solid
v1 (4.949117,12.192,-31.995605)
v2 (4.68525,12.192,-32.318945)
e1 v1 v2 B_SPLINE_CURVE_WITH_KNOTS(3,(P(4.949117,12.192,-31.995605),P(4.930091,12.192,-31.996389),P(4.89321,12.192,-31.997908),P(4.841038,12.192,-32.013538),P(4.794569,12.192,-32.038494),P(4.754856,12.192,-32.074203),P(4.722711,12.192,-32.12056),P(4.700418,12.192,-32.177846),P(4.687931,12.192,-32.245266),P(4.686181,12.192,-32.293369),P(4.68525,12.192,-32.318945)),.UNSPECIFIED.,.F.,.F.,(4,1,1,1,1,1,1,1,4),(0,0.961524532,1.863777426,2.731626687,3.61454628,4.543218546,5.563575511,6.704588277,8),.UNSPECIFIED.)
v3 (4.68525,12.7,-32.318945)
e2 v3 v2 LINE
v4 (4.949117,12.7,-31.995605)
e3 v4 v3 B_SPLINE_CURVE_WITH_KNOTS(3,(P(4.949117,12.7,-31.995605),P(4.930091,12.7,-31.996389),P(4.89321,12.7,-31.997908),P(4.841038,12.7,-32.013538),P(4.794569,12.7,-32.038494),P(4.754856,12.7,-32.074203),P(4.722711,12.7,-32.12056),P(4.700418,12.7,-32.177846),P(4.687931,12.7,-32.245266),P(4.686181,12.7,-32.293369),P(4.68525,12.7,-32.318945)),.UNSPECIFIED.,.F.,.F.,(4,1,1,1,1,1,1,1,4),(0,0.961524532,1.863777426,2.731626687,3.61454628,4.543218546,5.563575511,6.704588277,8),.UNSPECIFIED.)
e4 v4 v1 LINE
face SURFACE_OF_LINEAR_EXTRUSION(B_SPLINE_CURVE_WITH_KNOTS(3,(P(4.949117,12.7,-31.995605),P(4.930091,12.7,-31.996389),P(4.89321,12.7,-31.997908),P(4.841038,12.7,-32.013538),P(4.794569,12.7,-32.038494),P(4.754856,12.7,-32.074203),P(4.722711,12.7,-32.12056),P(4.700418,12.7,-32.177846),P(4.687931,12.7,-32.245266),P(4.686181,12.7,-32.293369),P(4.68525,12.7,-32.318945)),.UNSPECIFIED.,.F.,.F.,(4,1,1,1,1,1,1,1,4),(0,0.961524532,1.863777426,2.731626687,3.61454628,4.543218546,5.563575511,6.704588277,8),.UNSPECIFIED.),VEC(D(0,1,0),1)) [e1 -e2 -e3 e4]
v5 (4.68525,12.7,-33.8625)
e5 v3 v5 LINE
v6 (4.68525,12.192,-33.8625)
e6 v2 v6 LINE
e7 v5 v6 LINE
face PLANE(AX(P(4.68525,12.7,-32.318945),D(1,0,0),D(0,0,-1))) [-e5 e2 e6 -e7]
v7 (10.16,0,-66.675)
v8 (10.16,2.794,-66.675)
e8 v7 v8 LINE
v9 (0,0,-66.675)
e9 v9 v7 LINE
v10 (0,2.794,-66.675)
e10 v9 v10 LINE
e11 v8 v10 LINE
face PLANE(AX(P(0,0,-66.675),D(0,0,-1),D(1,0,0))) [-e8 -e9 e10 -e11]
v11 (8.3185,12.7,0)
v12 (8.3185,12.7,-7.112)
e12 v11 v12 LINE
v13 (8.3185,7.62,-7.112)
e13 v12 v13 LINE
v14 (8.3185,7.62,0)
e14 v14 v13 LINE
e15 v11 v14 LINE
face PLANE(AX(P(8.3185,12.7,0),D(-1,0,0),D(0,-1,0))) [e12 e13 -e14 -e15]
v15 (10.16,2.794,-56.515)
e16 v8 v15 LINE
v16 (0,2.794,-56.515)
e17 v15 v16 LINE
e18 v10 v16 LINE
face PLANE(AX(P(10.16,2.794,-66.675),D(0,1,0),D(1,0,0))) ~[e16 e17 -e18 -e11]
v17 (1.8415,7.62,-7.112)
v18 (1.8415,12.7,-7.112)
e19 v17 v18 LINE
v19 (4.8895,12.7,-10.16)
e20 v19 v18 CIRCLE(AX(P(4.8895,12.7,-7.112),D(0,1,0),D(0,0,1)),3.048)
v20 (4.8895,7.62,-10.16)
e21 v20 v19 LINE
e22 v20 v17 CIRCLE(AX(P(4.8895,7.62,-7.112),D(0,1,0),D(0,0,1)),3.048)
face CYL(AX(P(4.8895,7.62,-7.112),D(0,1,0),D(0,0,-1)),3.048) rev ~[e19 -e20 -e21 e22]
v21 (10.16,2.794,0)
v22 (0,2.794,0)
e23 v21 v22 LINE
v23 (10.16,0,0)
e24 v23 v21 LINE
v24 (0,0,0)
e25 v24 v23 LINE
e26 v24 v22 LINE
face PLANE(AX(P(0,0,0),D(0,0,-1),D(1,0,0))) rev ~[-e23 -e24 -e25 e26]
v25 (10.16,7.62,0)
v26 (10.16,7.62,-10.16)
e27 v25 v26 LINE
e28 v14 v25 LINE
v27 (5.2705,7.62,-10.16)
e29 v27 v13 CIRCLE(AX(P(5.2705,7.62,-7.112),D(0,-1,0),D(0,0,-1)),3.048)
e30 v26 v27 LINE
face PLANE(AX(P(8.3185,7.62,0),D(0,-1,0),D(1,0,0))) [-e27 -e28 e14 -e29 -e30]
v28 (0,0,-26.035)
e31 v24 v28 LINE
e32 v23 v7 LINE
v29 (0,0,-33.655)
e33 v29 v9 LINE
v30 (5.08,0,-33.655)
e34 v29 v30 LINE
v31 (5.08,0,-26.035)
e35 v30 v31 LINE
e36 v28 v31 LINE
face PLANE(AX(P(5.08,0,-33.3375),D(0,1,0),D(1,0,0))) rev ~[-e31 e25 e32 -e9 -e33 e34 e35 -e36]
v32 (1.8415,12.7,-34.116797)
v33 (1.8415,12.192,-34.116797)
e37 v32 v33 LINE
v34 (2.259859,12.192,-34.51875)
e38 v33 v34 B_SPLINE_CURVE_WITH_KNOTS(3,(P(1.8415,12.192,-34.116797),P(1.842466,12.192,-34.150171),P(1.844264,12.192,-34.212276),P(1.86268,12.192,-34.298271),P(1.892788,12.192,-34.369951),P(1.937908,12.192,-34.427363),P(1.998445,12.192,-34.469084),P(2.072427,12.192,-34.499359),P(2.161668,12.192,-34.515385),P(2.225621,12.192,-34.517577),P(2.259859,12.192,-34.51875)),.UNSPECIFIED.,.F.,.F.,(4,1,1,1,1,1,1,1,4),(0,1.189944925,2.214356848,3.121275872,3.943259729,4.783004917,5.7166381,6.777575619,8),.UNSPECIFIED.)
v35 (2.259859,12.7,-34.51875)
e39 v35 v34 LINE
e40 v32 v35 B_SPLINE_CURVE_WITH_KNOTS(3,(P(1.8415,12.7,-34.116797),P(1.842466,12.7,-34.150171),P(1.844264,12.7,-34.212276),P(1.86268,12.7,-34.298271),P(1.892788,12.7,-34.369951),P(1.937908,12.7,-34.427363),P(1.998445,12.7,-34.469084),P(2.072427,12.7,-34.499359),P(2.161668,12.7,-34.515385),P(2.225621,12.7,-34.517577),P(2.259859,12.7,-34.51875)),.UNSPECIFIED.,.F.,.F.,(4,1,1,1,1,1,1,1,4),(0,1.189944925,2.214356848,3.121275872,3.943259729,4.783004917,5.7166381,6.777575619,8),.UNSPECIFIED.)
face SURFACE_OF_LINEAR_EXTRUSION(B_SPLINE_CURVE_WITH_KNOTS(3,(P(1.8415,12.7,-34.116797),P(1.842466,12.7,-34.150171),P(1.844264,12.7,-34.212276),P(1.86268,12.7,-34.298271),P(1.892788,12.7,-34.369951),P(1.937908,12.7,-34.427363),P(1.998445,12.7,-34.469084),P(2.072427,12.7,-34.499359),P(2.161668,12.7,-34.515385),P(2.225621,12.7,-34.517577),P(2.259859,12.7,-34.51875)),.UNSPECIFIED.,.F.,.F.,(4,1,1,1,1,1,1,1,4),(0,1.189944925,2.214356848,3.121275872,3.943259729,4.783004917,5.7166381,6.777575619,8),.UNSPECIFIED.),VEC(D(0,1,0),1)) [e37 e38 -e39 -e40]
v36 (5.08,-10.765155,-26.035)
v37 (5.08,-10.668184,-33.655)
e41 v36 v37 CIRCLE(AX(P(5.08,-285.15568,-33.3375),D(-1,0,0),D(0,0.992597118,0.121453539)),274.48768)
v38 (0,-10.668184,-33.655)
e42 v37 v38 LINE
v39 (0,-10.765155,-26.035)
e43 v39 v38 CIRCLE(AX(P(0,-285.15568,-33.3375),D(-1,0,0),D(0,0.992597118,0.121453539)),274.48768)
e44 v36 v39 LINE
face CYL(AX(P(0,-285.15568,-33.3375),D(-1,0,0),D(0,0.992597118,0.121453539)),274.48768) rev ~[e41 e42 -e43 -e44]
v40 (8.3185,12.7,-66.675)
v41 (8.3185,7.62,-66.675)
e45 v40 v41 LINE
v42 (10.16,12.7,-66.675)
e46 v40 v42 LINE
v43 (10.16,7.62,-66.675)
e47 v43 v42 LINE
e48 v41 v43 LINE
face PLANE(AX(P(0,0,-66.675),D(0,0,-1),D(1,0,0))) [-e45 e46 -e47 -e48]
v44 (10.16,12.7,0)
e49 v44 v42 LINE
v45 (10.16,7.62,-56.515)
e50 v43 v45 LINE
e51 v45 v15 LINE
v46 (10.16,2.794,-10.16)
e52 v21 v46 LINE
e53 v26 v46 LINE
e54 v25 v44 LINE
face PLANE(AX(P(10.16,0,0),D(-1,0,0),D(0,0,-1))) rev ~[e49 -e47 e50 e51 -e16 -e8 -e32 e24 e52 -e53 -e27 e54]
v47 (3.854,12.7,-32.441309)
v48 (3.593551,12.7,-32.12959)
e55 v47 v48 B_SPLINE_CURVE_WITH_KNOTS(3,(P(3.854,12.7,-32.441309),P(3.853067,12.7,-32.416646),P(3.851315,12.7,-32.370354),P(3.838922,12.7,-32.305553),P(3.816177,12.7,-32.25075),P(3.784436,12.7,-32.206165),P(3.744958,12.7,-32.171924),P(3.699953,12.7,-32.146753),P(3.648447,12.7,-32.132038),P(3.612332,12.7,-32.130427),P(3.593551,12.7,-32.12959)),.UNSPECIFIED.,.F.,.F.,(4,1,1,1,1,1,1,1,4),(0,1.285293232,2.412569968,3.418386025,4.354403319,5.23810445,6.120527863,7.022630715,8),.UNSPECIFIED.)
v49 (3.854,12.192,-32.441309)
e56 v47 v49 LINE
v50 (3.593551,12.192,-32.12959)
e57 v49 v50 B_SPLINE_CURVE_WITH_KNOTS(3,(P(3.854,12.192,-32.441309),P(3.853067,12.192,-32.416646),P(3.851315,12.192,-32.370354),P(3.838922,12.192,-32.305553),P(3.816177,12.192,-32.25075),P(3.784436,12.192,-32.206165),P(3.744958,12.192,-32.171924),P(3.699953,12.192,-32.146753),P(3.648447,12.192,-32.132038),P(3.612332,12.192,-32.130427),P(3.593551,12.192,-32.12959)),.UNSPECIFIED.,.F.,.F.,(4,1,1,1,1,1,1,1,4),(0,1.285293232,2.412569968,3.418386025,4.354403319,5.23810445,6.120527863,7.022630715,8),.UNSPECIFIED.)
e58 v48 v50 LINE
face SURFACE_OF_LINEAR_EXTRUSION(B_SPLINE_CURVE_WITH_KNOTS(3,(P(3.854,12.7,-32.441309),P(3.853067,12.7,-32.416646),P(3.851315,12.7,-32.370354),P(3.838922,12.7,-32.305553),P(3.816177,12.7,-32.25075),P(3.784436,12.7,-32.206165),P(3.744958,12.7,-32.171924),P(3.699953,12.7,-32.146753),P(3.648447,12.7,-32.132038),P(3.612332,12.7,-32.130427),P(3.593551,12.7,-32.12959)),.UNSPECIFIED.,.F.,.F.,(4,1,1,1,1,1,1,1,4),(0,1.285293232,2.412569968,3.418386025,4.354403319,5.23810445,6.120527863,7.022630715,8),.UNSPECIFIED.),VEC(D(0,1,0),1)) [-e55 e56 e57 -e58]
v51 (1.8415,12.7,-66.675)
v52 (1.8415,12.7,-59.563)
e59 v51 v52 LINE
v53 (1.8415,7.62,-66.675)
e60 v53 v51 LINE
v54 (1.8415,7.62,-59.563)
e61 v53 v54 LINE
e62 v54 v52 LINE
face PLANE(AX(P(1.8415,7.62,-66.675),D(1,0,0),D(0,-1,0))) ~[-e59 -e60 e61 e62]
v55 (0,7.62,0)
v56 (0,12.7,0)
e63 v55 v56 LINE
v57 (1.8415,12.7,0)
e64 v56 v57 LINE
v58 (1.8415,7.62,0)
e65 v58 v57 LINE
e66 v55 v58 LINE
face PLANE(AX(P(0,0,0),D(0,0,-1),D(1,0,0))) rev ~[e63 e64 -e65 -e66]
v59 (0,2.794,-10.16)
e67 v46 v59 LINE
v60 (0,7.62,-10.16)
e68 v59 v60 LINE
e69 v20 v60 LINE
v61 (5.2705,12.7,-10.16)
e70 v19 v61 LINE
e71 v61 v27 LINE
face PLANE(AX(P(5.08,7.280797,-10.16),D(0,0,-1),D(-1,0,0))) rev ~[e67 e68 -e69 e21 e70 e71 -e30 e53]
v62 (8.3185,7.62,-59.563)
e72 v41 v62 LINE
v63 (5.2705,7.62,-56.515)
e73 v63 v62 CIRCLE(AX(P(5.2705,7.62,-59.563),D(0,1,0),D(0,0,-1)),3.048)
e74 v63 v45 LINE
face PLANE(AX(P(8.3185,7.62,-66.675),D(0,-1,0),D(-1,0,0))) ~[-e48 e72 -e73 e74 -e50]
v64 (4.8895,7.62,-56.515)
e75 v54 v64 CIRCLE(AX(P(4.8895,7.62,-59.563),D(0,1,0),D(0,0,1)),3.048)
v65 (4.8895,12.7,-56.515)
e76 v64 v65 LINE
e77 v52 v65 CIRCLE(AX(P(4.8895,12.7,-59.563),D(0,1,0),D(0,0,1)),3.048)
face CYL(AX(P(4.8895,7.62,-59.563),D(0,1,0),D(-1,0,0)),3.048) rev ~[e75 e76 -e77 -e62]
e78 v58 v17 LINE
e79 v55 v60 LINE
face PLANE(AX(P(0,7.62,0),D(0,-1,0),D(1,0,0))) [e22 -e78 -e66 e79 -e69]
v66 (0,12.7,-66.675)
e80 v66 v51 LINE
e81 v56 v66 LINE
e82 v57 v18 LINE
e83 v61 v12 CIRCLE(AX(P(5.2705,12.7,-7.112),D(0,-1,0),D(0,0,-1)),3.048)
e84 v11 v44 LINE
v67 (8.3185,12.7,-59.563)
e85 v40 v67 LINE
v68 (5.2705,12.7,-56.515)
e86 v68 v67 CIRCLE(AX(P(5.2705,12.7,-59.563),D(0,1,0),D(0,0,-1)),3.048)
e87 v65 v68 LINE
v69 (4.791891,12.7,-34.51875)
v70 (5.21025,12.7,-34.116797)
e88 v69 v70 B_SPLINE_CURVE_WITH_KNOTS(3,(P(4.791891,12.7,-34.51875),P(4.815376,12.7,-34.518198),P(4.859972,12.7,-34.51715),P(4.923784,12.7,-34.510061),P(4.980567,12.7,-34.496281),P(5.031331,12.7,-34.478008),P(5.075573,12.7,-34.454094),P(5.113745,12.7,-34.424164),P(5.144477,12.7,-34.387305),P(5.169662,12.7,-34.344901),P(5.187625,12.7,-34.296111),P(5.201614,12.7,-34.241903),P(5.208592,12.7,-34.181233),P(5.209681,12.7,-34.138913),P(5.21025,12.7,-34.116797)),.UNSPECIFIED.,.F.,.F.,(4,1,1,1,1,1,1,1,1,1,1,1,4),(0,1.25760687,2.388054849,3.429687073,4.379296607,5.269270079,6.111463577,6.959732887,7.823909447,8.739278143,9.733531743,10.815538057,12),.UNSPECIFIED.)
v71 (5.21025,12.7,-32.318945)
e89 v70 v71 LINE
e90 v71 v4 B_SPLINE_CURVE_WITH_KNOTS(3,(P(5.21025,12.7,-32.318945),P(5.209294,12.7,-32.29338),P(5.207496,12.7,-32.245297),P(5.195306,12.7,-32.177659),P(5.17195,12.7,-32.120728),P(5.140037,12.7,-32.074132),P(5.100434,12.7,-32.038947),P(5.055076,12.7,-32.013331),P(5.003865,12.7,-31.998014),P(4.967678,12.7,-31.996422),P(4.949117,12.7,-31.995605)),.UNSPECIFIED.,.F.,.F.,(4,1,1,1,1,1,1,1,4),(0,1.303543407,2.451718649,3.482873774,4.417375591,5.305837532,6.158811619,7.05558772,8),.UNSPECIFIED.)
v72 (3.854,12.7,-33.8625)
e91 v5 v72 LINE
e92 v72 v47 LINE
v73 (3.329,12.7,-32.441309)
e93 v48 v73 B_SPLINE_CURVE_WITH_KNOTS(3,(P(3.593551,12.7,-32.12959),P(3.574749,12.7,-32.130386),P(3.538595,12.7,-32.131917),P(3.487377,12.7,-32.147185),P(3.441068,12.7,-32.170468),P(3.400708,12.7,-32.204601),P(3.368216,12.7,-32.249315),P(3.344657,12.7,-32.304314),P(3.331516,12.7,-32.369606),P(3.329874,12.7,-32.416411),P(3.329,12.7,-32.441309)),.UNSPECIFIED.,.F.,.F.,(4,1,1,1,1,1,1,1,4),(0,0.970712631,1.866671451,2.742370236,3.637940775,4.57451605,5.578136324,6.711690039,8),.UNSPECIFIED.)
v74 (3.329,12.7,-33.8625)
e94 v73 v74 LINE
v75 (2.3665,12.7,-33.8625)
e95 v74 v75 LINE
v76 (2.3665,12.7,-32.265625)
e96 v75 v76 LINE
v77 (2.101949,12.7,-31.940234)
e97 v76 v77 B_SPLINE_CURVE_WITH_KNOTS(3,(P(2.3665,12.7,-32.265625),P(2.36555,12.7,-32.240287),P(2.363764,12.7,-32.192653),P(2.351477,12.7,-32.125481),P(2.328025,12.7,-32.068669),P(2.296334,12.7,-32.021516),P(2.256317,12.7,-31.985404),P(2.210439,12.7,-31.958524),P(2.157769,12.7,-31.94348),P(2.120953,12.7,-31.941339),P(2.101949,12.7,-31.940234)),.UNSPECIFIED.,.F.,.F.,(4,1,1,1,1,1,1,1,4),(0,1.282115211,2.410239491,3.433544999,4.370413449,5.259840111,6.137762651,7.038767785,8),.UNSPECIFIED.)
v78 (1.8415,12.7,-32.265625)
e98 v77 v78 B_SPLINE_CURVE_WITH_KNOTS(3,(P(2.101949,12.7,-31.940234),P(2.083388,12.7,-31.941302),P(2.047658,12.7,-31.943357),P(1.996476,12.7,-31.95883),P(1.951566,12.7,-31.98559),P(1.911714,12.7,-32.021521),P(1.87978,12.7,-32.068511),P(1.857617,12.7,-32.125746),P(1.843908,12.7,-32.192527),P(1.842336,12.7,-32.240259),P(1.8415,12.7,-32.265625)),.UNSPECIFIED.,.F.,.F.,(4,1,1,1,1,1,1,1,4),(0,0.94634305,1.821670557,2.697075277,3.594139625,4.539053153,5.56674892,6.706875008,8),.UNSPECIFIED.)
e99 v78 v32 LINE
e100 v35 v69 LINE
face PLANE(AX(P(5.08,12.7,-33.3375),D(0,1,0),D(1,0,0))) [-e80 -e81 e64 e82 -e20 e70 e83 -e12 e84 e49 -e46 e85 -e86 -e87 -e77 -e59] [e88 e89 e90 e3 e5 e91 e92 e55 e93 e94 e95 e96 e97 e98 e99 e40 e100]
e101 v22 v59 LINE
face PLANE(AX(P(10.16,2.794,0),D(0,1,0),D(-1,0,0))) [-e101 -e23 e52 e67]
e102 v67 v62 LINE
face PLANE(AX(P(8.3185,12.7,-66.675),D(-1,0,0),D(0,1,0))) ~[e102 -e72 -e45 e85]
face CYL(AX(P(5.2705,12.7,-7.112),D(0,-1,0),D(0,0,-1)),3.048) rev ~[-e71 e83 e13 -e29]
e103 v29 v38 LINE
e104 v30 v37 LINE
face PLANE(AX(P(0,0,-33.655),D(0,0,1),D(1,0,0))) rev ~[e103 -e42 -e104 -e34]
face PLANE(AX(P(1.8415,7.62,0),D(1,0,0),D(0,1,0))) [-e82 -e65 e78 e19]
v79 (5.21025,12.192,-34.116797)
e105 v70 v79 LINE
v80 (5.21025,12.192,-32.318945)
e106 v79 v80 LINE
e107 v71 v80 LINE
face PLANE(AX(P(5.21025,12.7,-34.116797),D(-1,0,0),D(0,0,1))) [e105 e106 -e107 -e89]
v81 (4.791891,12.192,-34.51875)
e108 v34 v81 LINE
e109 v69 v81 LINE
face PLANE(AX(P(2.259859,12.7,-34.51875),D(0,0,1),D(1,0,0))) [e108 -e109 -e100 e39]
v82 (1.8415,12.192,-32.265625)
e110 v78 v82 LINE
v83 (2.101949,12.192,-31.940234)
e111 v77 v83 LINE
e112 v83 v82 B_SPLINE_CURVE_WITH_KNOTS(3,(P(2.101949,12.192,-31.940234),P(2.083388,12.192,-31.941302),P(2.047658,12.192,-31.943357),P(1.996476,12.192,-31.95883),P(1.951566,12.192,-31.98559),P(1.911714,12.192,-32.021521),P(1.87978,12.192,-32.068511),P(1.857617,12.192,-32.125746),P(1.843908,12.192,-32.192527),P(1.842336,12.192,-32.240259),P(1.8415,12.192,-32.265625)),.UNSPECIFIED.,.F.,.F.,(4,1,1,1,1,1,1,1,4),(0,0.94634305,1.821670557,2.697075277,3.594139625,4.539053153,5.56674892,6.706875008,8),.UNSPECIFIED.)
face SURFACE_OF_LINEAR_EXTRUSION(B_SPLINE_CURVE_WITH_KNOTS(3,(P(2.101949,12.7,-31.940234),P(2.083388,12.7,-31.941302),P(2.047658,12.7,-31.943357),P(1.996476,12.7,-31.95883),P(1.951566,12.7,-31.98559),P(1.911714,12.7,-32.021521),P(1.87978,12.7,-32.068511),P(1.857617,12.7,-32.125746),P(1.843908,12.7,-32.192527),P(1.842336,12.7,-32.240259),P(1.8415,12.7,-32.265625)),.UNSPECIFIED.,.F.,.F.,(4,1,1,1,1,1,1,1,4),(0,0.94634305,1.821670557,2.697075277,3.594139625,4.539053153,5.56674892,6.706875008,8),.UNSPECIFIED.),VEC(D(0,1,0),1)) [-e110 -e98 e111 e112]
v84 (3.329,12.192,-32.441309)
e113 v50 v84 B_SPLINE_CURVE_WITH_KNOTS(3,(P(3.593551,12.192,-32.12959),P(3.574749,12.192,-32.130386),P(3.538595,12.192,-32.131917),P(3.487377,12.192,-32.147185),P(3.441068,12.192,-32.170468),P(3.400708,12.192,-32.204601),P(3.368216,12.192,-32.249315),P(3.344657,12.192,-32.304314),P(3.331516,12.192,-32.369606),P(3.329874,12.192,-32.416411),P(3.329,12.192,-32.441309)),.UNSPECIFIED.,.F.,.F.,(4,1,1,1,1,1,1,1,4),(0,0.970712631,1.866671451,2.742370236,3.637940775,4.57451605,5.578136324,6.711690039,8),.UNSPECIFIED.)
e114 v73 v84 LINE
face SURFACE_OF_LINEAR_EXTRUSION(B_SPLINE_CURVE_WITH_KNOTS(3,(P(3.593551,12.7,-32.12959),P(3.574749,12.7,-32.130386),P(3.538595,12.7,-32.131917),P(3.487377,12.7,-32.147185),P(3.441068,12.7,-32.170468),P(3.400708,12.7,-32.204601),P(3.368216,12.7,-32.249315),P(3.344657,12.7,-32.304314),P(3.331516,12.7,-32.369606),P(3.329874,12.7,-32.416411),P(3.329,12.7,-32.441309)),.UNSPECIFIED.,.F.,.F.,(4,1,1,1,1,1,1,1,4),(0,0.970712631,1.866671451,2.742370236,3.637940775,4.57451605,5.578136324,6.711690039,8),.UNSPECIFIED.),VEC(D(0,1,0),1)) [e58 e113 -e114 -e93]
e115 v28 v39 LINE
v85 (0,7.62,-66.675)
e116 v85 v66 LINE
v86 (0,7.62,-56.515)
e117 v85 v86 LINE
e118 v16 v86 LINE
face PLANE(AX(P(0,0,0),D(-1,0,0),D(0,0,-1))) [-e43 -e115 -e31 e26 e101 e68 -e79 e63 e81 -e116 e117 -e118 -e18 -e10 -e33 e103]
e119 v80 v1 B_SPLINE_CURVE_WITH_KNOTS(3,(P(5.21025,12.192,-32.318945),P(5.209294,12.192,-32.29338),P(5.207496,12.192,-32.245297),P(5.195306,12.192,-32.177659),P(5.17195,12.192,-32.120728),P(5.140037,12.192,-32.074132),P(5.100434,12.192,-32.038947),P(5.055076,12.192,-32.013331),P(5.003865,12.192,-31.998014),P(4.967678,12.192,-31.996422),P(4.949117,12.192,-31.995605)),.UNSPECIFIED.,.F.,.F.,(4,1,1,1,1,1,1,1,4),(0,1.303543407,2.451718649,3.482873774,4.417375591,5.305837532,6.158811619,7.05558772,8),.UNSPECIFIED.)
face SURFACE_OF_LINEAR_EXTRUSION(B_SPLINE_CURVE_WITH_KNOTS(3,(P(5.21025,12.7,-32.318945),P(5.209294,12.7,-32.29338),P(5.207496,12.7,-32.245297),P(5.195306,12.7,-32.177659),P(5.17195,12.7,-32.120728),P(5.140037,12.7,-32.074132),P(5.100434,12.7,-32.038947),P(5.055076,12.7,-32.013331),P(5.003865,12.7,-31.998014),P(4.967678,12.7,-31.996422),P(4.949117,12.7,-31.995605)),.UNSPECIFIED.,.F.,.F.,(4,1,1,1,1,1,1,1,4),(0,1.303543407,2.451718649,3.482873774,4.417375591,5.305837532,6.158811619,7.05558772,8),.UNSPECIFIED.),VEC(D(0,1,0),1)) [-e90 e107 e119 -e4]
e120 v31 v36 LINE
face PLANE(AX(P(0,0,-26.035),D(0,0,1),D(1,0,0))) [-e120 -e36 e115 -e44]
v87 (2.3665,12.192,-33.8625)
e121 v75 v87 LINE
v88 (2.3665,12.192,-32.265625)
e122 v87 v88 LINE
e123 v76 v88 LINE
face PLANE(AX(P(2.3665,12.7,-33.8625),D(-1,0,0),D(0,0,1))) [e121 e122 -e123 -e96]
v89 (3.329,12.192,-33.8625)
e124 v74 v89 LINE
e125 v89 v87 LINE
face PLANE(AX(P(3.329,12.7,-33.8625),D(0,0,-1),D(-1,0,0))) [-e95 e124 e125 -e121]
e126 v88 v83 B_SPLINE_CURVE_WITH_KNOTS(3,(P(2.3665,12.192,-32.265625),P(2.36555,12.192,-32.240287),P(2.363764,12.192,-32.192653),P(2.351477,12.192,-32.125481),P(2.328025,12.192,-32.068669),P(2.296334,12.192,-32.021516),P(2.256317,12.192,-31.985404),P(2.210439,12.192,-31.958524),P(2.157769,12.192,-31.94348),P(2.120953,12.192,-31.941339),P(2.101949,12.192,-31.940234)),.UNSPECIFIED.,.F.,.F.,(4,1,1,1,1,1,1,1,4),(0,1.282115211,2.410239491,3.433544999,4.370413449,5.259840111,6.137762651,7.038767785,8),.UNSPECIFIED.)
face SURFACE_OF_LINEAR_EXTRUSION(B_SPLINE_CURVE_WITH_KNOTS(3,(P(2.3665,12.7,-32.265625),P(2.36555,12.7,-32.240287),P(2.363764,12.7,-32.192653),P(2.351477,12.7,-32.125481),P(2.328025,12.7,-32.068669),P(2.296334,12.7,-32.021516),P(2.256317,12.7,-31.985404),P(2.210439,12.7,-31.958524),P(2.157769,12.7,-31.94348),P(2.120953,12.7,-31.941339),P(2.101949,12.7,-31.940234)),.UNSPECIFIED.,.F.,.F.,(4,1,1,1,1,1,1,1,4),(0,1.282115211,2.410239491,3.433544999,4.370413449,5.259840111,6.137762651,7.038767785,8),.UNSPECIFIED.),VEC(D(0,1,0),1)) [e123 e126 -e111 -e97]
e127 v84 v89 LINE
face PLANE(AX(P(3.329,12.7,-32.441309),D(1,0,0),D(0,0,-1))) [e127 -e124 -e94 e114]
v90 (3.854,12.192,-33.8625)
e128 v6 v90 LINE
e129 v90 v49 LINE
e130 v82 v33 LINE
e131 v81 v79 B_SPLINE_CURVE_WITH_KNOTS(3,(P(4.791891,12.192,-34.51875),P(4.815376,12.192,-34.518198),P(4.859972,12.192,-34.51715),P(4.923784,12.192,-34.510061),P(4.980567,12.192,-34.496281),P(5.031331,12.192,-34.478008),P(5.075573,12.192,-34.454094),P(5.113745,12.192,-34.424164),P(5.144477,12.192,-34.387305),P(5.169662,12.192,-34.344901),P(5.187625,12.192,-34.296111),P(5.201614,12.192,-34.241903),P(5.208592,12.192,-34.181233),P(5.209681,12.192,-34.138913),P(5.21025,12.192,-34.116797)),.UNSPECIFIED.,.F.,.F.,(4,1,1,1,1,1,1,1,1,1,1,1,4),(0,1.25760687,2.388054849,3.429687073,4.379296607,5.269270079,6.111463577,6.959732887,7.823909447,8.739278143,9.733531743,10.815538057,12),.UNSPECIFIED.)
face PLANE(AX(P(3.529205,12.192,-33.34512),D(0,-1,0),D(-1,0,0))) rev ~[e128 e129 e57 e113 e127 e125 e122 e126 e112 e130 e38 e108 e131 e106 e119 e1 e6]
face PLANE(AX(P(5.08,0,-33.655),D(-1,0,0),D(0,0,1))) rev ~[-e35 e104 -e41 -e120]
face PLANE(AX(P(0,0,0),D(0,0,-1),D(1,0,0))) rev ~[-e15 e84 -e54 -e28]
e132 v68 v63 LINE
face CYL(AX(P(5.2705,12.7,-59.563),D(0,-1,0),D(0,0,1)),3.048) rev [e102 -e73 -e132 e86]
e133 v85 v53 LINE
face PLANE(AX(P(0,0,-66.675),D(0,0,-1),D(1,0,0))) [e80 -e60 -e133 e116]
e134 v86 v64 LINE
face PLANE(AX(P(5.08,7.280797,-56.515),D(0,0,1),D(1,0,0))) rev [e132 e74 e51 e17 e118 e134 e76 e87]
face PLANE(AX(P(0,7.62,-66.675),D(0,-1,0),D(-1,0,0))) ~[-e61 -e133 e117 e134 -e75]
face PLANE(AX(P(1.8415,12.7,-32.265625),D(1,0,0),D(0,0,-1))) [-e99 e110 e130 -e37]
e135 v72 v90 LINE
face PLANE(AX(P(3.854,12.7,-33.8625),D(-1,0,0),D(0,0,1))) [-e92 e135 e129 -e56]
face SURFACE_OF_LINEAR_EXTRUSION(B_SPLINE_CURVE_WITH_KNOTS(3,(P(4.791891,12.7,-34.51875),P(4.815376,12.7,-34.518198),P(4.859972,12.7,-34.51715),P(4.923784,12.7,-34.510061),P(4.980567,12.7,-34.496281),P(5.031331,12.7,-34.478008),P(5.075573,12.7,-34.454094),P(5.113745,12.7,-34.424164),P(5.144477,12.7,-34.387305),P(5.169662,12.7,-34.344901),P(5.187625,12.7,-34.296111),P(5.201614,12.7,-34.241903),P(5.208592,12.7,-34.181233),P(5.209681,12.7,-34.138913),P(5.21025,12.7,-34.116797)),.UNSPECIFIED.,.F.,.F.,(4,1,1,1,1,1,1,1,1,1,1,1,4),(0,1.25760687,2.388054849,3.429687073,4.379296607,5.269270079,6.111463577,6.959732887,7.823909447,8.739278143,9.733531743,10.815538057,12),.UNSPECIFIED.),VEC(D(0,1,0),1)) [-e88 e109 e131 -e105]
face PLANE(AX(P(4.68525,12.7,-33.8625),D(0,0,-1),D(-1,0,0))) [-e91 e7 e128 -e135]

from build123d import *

# Parameters (mm, degrees)
SKETCH2_W            = 10.16
SKETCH2_H            = 66.675
BOSS_EXTRUDE1_DEPTH  = 12.7
SKETCH3_W            = 5.08
SKETCH3_H            = 6.35
SKETCH3_H_2          = 1.27
BOSS_EXTRUDE2_DEPTH  = 12.7
CUT_EXTRUDE1_DEPTH   = 10.16
FILLET2_R            = 3.048
FILLET2_OF_MIRROR1_R = 3.048
CUT_EXTRUDE4_DEPTH   = 69.629958655
CUT_EXTRUDE5_DEPTH   = 0.508


with BuildPart() as part:
    # Sketch2 → Boss-Extrude1 (new body)
    with BuildSketch(Plane(origin=(0, 0, 0), x_dir=(1, 0, 0), z_dir=(0, 1, 0))):
        with Locations((5.08, 33.3375)):
            Rectangle(SKETCH2_W, SKETCH2_H)
    extrude(amount=BOSS_EXTRUDE1_DEPTH)

    # Sketch3 → Boss-Extrude2 (add)
    with BuildSketch(Plane.XZ):
        with Locations((2.54, -29.21)):
            Rectangle(SKETCH3_W, SKETCH3_H)
        with Locations((2.54, -33.02)):
            Rectangle(SKETCH3_W, SKETCH3_H_2)
    extrude(amount=BOSS_EXTRUDE2_DEPTH)

    # Sketch4 → Cut-Extrude1 (cut)
    with BuildSketch(Plane.XY):
        Polygon((0, 7.62), (1.8415, 7.62), (1.8415, 12.7), (8.3185, 12.7), (8.3185, 7.62), (10.16, 7.62), (10.16, 2.794), (0, 2.794), align=None)
    cut_extrude1 = extrude(amount=-CUT_EXTRUDE1_DEPTH, mode=Mode.SUBTRACT)

    # Fillet2
    fillet2_edges = [part.edges().sort_by_distance(p)[0] for p in [
        (1.8415, 10.16, -10.16),
        (8.3185, 10.16, -10.16),
    ]]
    fillet(fillet2_edges, radius=FILLET2_R)

    # Mirror1: Cut-Extrude1 across plane
    add(cut_extrude1.mirror(Plane.XY.offset(-33.3375)), mode=Mode.SUBTRACT)

    # Fillet2 of Mirror1
    fillet2_of_mirror1_edges = [part.edges().sort_by_distance(p)[0] for p in [
        (1.8415, 10.16, -56.515),
        (8.3185, 10.16, -56.515),
    ]]
    fillet(fillet2_of_mirror1_edges, radius=FILLET2_OF_MIRROR1_R)

    # Sketch5 → Cut-Extrude4 (cut, through all)
    with BuildSketch(Plane.ZY):
        with BuildLine():
            Line((-66.675, -12.7), (0, -12.7))
            ThreePointArc((0, -12.7), (-33.3375, -10.668), (-66.675, -12.7))
        make_face()
    extrude(amount=-CUT_EXTRUDE4_DEPTH, mode=Mode.SUBTRACT)

    # Sketch6 → Cut-Extrude5 (cut)
    with BuildSketch(Plane(origin=(0, 12.7, 0), x_dir=(1, 0, 0), z_dir=(0, 1, 0))):
        with BuildLine():
            Line((4.68525, 32.318945312), (4.68525, 33.8625))
            Line((4.68525, 33.8625), (3.854, 33.8625))
            Line((3.854, 33.8625), (3.854, 32.441308594))
            add(Edge.make_bspline(
                [(3.854, 32.441308594), (3.85306664, 32.416646376), (3.85131467, 32.370353963), (3.838922285, 32.305553354), (3.816176667, 32.250750116), (3.784435917, 32.206165385), (3.744958065, 32.171924109), (3.699953428, 32.146753392), (3.648447348, 32.132038096), (3.612331739, 32.130427428), (3.593550781, 32.129589844)],
                knots=[0, 0, 0, 0, 1.285293232, 2.412569968, 3.418386025, 4.354403319, 5.23810445, 6.120527863, 7.022630715, 8, 8, 8, 8], degree=3))
            add(Edge.make_bspline(
                [(3.593550781, 32.129589844), (3.574749437, 32.130386162), (3.538594625, 32.131917475), (3.487376628, 32.147184911), (3.441067547, 32.170468115), (3.400708139, 32.204601131), (3.368216057, 32.249315164), (3.344656766, 32.304313536), (3.331515928, 32.36960597), (3.329873624, 32.416410782), (3.329, 32.441308594)],
                knots=[0, 0, 0, 0, 0.970712631, 1.866671451, 2.742370236, 3.637940775, 4.57451605, 5.578136324, 6.711690039, 8, 8, 8, 8], degree=3))
            Line((3.329, 32.441308594), (3.329, 33.8625))
            Line((3.329, 33.8625), (2.3665, 33.8625))
            Line((2.3665, 33.8625), (2.3665, 32.265625))
            add(Edge.make_bspline(
                [(2.3665, 32.265625), (2.3655501, 32.240286731), (2.363764391, 32.192653494), (2.351476637, 32.125480995), (2.328025391, 32.068668897), (2.296333649, 32.021515895), (2.256316564, 31.985404245), (2.210438968, 31.958523559), (2.157768886, 31.943480459), (2.120952669, 31.941339483), (2.101949219, 31.940234375)],
                knots=[0, 0, 0, 0, 1.282115211, 2.410239491, 3.433544999, 4.370413449, 5.259840111, 6.137762651, 7.038767785, 8, 8, 8, 8], degree=3))
            add(Edge.make_bspline(
                [(2.101949219, 31.940234375), (2.083387815, 31.94130204), (2.047657894, 31.943357251), (1.99647574, 31.958830307), (1.951565967, 31.985590419), (1.911713519, 32.021521306), (1.879780454, 32.068510842), (1.857617463, 32.125745925), (1.843908263, 32.192526909), (1.842335714, 32.24025854), (1.8415, 32.265625)],
                knots=[0, 0, 0, 0, 0.94634305, 1.821670557, 2.697075277, 3.594139625, 4.539053153, 5.56674892, 6.706875008, 8, 8, 8, 8], degree=3))
            Line((1.8415, 32.265625), (1.8415, 34.116796875))
            add(Edge.make_bspline(
                [(1.8415, 34.116796875), (1.842466239, 34.150170648), (1.844264303, 34.212275576), (1.862680376, 34.298270852), (1.892787961, 34.369951249), (1.937907595, 34.427362709), (1.998445006, 34.469083716), (2.072427477, 34.499358574), (2.16166782, 34.515384672), (2.225621192, 34.517576552), (2.259859375, 34.51875)],
                knots=[0, 0, 0, 0, 1.189944925, 2.214356848, 3.121275872, 3.943259729, 4.783004917, 5.7166381, 6.777575619, 8, 8, 8, 8], degree=3))
            Line((2.259859375, 34.51875), (4.791890625, 34.51875))
            add(Edge.make_bspline(
                [(4.791890625, 34.51875), (4.81537587, 34.518197938), (4.859971724, 34.517149635), (4.923783566, 34.510060607), (4.980566831, 34.496281007), (5.031331248, 34.478007659), (5.075573059, 34.45409369), (5.113745466, 34.424163537), (5.144476669, 34.387304712), (5.169662361, 34.344901006), (5.187624682, 34.296110527), (5.20161385, 34.241903477), (5.208592234, 34.181233065), (5.209681005, 34.138913293), (5.21025, 34.116796875)],
                knots=[0, 0, 0, 0, 1.25760687, 2.388054849, 3.429687073, 4.379296607, 5.269270079, 6.111463577, 6.959732887, 7.823909447, 8.739278143, 9.733531743, 10.815538057, 12, 12, 12, 12], degree=3))
            Line((5.21025, 34.116796875), (5.21025, 32.318945312))
            add(Edge.make_bspline(
                [(5.21025, 32.318945312), (5.209294138, 32.293380123), (5.207496341, 32.245296836), (5.195306163, 32.177659161), (5.1719504, 32.120727753), (5.140037158, 32.074132036), (5.100434178, 32.038946704), (5.055076035, 32.013331032), (5.003864768, 31.998014319), (4.967678458, 31.99642215), (4.949117187, 31.995605469)],
                knots=[0, 0, 0, 0, 1.303543407, 2.451718649, 3.482873774, 4.417375591, 5.305837532, 6.158811619, 7.05558772, 8, 8, 8, 8], degree=3))
            add(Edge.make_bspline(
                [(4.949117187, 31.995605469), (4.930090551, 31.996389194), (4.893210146, 31.997908334), (4.841038001, 32.013538139), (4.794569462, 32.03849449), (4.754855556, 32.074202728), (4.722711227, 32.120560462), (4.700417628, 32.177846336), (4.68793119, 32.245265971), (4.686180707, 32.293369409), (4.68525, 32.318945312)],
                knots=[0, 0, 0, 0, 0.961524532, 1.863777426, 2.731626687, 3.61454628, 4.543218546, 5.563575511, 6.704588277, 8, 8, 8, 8], degree=3))
        make_face()
    extrude(amount=-CUT_EXTRUDE5_DEPTH, mode=Mode.SUBTRACT)


solid = part.part
